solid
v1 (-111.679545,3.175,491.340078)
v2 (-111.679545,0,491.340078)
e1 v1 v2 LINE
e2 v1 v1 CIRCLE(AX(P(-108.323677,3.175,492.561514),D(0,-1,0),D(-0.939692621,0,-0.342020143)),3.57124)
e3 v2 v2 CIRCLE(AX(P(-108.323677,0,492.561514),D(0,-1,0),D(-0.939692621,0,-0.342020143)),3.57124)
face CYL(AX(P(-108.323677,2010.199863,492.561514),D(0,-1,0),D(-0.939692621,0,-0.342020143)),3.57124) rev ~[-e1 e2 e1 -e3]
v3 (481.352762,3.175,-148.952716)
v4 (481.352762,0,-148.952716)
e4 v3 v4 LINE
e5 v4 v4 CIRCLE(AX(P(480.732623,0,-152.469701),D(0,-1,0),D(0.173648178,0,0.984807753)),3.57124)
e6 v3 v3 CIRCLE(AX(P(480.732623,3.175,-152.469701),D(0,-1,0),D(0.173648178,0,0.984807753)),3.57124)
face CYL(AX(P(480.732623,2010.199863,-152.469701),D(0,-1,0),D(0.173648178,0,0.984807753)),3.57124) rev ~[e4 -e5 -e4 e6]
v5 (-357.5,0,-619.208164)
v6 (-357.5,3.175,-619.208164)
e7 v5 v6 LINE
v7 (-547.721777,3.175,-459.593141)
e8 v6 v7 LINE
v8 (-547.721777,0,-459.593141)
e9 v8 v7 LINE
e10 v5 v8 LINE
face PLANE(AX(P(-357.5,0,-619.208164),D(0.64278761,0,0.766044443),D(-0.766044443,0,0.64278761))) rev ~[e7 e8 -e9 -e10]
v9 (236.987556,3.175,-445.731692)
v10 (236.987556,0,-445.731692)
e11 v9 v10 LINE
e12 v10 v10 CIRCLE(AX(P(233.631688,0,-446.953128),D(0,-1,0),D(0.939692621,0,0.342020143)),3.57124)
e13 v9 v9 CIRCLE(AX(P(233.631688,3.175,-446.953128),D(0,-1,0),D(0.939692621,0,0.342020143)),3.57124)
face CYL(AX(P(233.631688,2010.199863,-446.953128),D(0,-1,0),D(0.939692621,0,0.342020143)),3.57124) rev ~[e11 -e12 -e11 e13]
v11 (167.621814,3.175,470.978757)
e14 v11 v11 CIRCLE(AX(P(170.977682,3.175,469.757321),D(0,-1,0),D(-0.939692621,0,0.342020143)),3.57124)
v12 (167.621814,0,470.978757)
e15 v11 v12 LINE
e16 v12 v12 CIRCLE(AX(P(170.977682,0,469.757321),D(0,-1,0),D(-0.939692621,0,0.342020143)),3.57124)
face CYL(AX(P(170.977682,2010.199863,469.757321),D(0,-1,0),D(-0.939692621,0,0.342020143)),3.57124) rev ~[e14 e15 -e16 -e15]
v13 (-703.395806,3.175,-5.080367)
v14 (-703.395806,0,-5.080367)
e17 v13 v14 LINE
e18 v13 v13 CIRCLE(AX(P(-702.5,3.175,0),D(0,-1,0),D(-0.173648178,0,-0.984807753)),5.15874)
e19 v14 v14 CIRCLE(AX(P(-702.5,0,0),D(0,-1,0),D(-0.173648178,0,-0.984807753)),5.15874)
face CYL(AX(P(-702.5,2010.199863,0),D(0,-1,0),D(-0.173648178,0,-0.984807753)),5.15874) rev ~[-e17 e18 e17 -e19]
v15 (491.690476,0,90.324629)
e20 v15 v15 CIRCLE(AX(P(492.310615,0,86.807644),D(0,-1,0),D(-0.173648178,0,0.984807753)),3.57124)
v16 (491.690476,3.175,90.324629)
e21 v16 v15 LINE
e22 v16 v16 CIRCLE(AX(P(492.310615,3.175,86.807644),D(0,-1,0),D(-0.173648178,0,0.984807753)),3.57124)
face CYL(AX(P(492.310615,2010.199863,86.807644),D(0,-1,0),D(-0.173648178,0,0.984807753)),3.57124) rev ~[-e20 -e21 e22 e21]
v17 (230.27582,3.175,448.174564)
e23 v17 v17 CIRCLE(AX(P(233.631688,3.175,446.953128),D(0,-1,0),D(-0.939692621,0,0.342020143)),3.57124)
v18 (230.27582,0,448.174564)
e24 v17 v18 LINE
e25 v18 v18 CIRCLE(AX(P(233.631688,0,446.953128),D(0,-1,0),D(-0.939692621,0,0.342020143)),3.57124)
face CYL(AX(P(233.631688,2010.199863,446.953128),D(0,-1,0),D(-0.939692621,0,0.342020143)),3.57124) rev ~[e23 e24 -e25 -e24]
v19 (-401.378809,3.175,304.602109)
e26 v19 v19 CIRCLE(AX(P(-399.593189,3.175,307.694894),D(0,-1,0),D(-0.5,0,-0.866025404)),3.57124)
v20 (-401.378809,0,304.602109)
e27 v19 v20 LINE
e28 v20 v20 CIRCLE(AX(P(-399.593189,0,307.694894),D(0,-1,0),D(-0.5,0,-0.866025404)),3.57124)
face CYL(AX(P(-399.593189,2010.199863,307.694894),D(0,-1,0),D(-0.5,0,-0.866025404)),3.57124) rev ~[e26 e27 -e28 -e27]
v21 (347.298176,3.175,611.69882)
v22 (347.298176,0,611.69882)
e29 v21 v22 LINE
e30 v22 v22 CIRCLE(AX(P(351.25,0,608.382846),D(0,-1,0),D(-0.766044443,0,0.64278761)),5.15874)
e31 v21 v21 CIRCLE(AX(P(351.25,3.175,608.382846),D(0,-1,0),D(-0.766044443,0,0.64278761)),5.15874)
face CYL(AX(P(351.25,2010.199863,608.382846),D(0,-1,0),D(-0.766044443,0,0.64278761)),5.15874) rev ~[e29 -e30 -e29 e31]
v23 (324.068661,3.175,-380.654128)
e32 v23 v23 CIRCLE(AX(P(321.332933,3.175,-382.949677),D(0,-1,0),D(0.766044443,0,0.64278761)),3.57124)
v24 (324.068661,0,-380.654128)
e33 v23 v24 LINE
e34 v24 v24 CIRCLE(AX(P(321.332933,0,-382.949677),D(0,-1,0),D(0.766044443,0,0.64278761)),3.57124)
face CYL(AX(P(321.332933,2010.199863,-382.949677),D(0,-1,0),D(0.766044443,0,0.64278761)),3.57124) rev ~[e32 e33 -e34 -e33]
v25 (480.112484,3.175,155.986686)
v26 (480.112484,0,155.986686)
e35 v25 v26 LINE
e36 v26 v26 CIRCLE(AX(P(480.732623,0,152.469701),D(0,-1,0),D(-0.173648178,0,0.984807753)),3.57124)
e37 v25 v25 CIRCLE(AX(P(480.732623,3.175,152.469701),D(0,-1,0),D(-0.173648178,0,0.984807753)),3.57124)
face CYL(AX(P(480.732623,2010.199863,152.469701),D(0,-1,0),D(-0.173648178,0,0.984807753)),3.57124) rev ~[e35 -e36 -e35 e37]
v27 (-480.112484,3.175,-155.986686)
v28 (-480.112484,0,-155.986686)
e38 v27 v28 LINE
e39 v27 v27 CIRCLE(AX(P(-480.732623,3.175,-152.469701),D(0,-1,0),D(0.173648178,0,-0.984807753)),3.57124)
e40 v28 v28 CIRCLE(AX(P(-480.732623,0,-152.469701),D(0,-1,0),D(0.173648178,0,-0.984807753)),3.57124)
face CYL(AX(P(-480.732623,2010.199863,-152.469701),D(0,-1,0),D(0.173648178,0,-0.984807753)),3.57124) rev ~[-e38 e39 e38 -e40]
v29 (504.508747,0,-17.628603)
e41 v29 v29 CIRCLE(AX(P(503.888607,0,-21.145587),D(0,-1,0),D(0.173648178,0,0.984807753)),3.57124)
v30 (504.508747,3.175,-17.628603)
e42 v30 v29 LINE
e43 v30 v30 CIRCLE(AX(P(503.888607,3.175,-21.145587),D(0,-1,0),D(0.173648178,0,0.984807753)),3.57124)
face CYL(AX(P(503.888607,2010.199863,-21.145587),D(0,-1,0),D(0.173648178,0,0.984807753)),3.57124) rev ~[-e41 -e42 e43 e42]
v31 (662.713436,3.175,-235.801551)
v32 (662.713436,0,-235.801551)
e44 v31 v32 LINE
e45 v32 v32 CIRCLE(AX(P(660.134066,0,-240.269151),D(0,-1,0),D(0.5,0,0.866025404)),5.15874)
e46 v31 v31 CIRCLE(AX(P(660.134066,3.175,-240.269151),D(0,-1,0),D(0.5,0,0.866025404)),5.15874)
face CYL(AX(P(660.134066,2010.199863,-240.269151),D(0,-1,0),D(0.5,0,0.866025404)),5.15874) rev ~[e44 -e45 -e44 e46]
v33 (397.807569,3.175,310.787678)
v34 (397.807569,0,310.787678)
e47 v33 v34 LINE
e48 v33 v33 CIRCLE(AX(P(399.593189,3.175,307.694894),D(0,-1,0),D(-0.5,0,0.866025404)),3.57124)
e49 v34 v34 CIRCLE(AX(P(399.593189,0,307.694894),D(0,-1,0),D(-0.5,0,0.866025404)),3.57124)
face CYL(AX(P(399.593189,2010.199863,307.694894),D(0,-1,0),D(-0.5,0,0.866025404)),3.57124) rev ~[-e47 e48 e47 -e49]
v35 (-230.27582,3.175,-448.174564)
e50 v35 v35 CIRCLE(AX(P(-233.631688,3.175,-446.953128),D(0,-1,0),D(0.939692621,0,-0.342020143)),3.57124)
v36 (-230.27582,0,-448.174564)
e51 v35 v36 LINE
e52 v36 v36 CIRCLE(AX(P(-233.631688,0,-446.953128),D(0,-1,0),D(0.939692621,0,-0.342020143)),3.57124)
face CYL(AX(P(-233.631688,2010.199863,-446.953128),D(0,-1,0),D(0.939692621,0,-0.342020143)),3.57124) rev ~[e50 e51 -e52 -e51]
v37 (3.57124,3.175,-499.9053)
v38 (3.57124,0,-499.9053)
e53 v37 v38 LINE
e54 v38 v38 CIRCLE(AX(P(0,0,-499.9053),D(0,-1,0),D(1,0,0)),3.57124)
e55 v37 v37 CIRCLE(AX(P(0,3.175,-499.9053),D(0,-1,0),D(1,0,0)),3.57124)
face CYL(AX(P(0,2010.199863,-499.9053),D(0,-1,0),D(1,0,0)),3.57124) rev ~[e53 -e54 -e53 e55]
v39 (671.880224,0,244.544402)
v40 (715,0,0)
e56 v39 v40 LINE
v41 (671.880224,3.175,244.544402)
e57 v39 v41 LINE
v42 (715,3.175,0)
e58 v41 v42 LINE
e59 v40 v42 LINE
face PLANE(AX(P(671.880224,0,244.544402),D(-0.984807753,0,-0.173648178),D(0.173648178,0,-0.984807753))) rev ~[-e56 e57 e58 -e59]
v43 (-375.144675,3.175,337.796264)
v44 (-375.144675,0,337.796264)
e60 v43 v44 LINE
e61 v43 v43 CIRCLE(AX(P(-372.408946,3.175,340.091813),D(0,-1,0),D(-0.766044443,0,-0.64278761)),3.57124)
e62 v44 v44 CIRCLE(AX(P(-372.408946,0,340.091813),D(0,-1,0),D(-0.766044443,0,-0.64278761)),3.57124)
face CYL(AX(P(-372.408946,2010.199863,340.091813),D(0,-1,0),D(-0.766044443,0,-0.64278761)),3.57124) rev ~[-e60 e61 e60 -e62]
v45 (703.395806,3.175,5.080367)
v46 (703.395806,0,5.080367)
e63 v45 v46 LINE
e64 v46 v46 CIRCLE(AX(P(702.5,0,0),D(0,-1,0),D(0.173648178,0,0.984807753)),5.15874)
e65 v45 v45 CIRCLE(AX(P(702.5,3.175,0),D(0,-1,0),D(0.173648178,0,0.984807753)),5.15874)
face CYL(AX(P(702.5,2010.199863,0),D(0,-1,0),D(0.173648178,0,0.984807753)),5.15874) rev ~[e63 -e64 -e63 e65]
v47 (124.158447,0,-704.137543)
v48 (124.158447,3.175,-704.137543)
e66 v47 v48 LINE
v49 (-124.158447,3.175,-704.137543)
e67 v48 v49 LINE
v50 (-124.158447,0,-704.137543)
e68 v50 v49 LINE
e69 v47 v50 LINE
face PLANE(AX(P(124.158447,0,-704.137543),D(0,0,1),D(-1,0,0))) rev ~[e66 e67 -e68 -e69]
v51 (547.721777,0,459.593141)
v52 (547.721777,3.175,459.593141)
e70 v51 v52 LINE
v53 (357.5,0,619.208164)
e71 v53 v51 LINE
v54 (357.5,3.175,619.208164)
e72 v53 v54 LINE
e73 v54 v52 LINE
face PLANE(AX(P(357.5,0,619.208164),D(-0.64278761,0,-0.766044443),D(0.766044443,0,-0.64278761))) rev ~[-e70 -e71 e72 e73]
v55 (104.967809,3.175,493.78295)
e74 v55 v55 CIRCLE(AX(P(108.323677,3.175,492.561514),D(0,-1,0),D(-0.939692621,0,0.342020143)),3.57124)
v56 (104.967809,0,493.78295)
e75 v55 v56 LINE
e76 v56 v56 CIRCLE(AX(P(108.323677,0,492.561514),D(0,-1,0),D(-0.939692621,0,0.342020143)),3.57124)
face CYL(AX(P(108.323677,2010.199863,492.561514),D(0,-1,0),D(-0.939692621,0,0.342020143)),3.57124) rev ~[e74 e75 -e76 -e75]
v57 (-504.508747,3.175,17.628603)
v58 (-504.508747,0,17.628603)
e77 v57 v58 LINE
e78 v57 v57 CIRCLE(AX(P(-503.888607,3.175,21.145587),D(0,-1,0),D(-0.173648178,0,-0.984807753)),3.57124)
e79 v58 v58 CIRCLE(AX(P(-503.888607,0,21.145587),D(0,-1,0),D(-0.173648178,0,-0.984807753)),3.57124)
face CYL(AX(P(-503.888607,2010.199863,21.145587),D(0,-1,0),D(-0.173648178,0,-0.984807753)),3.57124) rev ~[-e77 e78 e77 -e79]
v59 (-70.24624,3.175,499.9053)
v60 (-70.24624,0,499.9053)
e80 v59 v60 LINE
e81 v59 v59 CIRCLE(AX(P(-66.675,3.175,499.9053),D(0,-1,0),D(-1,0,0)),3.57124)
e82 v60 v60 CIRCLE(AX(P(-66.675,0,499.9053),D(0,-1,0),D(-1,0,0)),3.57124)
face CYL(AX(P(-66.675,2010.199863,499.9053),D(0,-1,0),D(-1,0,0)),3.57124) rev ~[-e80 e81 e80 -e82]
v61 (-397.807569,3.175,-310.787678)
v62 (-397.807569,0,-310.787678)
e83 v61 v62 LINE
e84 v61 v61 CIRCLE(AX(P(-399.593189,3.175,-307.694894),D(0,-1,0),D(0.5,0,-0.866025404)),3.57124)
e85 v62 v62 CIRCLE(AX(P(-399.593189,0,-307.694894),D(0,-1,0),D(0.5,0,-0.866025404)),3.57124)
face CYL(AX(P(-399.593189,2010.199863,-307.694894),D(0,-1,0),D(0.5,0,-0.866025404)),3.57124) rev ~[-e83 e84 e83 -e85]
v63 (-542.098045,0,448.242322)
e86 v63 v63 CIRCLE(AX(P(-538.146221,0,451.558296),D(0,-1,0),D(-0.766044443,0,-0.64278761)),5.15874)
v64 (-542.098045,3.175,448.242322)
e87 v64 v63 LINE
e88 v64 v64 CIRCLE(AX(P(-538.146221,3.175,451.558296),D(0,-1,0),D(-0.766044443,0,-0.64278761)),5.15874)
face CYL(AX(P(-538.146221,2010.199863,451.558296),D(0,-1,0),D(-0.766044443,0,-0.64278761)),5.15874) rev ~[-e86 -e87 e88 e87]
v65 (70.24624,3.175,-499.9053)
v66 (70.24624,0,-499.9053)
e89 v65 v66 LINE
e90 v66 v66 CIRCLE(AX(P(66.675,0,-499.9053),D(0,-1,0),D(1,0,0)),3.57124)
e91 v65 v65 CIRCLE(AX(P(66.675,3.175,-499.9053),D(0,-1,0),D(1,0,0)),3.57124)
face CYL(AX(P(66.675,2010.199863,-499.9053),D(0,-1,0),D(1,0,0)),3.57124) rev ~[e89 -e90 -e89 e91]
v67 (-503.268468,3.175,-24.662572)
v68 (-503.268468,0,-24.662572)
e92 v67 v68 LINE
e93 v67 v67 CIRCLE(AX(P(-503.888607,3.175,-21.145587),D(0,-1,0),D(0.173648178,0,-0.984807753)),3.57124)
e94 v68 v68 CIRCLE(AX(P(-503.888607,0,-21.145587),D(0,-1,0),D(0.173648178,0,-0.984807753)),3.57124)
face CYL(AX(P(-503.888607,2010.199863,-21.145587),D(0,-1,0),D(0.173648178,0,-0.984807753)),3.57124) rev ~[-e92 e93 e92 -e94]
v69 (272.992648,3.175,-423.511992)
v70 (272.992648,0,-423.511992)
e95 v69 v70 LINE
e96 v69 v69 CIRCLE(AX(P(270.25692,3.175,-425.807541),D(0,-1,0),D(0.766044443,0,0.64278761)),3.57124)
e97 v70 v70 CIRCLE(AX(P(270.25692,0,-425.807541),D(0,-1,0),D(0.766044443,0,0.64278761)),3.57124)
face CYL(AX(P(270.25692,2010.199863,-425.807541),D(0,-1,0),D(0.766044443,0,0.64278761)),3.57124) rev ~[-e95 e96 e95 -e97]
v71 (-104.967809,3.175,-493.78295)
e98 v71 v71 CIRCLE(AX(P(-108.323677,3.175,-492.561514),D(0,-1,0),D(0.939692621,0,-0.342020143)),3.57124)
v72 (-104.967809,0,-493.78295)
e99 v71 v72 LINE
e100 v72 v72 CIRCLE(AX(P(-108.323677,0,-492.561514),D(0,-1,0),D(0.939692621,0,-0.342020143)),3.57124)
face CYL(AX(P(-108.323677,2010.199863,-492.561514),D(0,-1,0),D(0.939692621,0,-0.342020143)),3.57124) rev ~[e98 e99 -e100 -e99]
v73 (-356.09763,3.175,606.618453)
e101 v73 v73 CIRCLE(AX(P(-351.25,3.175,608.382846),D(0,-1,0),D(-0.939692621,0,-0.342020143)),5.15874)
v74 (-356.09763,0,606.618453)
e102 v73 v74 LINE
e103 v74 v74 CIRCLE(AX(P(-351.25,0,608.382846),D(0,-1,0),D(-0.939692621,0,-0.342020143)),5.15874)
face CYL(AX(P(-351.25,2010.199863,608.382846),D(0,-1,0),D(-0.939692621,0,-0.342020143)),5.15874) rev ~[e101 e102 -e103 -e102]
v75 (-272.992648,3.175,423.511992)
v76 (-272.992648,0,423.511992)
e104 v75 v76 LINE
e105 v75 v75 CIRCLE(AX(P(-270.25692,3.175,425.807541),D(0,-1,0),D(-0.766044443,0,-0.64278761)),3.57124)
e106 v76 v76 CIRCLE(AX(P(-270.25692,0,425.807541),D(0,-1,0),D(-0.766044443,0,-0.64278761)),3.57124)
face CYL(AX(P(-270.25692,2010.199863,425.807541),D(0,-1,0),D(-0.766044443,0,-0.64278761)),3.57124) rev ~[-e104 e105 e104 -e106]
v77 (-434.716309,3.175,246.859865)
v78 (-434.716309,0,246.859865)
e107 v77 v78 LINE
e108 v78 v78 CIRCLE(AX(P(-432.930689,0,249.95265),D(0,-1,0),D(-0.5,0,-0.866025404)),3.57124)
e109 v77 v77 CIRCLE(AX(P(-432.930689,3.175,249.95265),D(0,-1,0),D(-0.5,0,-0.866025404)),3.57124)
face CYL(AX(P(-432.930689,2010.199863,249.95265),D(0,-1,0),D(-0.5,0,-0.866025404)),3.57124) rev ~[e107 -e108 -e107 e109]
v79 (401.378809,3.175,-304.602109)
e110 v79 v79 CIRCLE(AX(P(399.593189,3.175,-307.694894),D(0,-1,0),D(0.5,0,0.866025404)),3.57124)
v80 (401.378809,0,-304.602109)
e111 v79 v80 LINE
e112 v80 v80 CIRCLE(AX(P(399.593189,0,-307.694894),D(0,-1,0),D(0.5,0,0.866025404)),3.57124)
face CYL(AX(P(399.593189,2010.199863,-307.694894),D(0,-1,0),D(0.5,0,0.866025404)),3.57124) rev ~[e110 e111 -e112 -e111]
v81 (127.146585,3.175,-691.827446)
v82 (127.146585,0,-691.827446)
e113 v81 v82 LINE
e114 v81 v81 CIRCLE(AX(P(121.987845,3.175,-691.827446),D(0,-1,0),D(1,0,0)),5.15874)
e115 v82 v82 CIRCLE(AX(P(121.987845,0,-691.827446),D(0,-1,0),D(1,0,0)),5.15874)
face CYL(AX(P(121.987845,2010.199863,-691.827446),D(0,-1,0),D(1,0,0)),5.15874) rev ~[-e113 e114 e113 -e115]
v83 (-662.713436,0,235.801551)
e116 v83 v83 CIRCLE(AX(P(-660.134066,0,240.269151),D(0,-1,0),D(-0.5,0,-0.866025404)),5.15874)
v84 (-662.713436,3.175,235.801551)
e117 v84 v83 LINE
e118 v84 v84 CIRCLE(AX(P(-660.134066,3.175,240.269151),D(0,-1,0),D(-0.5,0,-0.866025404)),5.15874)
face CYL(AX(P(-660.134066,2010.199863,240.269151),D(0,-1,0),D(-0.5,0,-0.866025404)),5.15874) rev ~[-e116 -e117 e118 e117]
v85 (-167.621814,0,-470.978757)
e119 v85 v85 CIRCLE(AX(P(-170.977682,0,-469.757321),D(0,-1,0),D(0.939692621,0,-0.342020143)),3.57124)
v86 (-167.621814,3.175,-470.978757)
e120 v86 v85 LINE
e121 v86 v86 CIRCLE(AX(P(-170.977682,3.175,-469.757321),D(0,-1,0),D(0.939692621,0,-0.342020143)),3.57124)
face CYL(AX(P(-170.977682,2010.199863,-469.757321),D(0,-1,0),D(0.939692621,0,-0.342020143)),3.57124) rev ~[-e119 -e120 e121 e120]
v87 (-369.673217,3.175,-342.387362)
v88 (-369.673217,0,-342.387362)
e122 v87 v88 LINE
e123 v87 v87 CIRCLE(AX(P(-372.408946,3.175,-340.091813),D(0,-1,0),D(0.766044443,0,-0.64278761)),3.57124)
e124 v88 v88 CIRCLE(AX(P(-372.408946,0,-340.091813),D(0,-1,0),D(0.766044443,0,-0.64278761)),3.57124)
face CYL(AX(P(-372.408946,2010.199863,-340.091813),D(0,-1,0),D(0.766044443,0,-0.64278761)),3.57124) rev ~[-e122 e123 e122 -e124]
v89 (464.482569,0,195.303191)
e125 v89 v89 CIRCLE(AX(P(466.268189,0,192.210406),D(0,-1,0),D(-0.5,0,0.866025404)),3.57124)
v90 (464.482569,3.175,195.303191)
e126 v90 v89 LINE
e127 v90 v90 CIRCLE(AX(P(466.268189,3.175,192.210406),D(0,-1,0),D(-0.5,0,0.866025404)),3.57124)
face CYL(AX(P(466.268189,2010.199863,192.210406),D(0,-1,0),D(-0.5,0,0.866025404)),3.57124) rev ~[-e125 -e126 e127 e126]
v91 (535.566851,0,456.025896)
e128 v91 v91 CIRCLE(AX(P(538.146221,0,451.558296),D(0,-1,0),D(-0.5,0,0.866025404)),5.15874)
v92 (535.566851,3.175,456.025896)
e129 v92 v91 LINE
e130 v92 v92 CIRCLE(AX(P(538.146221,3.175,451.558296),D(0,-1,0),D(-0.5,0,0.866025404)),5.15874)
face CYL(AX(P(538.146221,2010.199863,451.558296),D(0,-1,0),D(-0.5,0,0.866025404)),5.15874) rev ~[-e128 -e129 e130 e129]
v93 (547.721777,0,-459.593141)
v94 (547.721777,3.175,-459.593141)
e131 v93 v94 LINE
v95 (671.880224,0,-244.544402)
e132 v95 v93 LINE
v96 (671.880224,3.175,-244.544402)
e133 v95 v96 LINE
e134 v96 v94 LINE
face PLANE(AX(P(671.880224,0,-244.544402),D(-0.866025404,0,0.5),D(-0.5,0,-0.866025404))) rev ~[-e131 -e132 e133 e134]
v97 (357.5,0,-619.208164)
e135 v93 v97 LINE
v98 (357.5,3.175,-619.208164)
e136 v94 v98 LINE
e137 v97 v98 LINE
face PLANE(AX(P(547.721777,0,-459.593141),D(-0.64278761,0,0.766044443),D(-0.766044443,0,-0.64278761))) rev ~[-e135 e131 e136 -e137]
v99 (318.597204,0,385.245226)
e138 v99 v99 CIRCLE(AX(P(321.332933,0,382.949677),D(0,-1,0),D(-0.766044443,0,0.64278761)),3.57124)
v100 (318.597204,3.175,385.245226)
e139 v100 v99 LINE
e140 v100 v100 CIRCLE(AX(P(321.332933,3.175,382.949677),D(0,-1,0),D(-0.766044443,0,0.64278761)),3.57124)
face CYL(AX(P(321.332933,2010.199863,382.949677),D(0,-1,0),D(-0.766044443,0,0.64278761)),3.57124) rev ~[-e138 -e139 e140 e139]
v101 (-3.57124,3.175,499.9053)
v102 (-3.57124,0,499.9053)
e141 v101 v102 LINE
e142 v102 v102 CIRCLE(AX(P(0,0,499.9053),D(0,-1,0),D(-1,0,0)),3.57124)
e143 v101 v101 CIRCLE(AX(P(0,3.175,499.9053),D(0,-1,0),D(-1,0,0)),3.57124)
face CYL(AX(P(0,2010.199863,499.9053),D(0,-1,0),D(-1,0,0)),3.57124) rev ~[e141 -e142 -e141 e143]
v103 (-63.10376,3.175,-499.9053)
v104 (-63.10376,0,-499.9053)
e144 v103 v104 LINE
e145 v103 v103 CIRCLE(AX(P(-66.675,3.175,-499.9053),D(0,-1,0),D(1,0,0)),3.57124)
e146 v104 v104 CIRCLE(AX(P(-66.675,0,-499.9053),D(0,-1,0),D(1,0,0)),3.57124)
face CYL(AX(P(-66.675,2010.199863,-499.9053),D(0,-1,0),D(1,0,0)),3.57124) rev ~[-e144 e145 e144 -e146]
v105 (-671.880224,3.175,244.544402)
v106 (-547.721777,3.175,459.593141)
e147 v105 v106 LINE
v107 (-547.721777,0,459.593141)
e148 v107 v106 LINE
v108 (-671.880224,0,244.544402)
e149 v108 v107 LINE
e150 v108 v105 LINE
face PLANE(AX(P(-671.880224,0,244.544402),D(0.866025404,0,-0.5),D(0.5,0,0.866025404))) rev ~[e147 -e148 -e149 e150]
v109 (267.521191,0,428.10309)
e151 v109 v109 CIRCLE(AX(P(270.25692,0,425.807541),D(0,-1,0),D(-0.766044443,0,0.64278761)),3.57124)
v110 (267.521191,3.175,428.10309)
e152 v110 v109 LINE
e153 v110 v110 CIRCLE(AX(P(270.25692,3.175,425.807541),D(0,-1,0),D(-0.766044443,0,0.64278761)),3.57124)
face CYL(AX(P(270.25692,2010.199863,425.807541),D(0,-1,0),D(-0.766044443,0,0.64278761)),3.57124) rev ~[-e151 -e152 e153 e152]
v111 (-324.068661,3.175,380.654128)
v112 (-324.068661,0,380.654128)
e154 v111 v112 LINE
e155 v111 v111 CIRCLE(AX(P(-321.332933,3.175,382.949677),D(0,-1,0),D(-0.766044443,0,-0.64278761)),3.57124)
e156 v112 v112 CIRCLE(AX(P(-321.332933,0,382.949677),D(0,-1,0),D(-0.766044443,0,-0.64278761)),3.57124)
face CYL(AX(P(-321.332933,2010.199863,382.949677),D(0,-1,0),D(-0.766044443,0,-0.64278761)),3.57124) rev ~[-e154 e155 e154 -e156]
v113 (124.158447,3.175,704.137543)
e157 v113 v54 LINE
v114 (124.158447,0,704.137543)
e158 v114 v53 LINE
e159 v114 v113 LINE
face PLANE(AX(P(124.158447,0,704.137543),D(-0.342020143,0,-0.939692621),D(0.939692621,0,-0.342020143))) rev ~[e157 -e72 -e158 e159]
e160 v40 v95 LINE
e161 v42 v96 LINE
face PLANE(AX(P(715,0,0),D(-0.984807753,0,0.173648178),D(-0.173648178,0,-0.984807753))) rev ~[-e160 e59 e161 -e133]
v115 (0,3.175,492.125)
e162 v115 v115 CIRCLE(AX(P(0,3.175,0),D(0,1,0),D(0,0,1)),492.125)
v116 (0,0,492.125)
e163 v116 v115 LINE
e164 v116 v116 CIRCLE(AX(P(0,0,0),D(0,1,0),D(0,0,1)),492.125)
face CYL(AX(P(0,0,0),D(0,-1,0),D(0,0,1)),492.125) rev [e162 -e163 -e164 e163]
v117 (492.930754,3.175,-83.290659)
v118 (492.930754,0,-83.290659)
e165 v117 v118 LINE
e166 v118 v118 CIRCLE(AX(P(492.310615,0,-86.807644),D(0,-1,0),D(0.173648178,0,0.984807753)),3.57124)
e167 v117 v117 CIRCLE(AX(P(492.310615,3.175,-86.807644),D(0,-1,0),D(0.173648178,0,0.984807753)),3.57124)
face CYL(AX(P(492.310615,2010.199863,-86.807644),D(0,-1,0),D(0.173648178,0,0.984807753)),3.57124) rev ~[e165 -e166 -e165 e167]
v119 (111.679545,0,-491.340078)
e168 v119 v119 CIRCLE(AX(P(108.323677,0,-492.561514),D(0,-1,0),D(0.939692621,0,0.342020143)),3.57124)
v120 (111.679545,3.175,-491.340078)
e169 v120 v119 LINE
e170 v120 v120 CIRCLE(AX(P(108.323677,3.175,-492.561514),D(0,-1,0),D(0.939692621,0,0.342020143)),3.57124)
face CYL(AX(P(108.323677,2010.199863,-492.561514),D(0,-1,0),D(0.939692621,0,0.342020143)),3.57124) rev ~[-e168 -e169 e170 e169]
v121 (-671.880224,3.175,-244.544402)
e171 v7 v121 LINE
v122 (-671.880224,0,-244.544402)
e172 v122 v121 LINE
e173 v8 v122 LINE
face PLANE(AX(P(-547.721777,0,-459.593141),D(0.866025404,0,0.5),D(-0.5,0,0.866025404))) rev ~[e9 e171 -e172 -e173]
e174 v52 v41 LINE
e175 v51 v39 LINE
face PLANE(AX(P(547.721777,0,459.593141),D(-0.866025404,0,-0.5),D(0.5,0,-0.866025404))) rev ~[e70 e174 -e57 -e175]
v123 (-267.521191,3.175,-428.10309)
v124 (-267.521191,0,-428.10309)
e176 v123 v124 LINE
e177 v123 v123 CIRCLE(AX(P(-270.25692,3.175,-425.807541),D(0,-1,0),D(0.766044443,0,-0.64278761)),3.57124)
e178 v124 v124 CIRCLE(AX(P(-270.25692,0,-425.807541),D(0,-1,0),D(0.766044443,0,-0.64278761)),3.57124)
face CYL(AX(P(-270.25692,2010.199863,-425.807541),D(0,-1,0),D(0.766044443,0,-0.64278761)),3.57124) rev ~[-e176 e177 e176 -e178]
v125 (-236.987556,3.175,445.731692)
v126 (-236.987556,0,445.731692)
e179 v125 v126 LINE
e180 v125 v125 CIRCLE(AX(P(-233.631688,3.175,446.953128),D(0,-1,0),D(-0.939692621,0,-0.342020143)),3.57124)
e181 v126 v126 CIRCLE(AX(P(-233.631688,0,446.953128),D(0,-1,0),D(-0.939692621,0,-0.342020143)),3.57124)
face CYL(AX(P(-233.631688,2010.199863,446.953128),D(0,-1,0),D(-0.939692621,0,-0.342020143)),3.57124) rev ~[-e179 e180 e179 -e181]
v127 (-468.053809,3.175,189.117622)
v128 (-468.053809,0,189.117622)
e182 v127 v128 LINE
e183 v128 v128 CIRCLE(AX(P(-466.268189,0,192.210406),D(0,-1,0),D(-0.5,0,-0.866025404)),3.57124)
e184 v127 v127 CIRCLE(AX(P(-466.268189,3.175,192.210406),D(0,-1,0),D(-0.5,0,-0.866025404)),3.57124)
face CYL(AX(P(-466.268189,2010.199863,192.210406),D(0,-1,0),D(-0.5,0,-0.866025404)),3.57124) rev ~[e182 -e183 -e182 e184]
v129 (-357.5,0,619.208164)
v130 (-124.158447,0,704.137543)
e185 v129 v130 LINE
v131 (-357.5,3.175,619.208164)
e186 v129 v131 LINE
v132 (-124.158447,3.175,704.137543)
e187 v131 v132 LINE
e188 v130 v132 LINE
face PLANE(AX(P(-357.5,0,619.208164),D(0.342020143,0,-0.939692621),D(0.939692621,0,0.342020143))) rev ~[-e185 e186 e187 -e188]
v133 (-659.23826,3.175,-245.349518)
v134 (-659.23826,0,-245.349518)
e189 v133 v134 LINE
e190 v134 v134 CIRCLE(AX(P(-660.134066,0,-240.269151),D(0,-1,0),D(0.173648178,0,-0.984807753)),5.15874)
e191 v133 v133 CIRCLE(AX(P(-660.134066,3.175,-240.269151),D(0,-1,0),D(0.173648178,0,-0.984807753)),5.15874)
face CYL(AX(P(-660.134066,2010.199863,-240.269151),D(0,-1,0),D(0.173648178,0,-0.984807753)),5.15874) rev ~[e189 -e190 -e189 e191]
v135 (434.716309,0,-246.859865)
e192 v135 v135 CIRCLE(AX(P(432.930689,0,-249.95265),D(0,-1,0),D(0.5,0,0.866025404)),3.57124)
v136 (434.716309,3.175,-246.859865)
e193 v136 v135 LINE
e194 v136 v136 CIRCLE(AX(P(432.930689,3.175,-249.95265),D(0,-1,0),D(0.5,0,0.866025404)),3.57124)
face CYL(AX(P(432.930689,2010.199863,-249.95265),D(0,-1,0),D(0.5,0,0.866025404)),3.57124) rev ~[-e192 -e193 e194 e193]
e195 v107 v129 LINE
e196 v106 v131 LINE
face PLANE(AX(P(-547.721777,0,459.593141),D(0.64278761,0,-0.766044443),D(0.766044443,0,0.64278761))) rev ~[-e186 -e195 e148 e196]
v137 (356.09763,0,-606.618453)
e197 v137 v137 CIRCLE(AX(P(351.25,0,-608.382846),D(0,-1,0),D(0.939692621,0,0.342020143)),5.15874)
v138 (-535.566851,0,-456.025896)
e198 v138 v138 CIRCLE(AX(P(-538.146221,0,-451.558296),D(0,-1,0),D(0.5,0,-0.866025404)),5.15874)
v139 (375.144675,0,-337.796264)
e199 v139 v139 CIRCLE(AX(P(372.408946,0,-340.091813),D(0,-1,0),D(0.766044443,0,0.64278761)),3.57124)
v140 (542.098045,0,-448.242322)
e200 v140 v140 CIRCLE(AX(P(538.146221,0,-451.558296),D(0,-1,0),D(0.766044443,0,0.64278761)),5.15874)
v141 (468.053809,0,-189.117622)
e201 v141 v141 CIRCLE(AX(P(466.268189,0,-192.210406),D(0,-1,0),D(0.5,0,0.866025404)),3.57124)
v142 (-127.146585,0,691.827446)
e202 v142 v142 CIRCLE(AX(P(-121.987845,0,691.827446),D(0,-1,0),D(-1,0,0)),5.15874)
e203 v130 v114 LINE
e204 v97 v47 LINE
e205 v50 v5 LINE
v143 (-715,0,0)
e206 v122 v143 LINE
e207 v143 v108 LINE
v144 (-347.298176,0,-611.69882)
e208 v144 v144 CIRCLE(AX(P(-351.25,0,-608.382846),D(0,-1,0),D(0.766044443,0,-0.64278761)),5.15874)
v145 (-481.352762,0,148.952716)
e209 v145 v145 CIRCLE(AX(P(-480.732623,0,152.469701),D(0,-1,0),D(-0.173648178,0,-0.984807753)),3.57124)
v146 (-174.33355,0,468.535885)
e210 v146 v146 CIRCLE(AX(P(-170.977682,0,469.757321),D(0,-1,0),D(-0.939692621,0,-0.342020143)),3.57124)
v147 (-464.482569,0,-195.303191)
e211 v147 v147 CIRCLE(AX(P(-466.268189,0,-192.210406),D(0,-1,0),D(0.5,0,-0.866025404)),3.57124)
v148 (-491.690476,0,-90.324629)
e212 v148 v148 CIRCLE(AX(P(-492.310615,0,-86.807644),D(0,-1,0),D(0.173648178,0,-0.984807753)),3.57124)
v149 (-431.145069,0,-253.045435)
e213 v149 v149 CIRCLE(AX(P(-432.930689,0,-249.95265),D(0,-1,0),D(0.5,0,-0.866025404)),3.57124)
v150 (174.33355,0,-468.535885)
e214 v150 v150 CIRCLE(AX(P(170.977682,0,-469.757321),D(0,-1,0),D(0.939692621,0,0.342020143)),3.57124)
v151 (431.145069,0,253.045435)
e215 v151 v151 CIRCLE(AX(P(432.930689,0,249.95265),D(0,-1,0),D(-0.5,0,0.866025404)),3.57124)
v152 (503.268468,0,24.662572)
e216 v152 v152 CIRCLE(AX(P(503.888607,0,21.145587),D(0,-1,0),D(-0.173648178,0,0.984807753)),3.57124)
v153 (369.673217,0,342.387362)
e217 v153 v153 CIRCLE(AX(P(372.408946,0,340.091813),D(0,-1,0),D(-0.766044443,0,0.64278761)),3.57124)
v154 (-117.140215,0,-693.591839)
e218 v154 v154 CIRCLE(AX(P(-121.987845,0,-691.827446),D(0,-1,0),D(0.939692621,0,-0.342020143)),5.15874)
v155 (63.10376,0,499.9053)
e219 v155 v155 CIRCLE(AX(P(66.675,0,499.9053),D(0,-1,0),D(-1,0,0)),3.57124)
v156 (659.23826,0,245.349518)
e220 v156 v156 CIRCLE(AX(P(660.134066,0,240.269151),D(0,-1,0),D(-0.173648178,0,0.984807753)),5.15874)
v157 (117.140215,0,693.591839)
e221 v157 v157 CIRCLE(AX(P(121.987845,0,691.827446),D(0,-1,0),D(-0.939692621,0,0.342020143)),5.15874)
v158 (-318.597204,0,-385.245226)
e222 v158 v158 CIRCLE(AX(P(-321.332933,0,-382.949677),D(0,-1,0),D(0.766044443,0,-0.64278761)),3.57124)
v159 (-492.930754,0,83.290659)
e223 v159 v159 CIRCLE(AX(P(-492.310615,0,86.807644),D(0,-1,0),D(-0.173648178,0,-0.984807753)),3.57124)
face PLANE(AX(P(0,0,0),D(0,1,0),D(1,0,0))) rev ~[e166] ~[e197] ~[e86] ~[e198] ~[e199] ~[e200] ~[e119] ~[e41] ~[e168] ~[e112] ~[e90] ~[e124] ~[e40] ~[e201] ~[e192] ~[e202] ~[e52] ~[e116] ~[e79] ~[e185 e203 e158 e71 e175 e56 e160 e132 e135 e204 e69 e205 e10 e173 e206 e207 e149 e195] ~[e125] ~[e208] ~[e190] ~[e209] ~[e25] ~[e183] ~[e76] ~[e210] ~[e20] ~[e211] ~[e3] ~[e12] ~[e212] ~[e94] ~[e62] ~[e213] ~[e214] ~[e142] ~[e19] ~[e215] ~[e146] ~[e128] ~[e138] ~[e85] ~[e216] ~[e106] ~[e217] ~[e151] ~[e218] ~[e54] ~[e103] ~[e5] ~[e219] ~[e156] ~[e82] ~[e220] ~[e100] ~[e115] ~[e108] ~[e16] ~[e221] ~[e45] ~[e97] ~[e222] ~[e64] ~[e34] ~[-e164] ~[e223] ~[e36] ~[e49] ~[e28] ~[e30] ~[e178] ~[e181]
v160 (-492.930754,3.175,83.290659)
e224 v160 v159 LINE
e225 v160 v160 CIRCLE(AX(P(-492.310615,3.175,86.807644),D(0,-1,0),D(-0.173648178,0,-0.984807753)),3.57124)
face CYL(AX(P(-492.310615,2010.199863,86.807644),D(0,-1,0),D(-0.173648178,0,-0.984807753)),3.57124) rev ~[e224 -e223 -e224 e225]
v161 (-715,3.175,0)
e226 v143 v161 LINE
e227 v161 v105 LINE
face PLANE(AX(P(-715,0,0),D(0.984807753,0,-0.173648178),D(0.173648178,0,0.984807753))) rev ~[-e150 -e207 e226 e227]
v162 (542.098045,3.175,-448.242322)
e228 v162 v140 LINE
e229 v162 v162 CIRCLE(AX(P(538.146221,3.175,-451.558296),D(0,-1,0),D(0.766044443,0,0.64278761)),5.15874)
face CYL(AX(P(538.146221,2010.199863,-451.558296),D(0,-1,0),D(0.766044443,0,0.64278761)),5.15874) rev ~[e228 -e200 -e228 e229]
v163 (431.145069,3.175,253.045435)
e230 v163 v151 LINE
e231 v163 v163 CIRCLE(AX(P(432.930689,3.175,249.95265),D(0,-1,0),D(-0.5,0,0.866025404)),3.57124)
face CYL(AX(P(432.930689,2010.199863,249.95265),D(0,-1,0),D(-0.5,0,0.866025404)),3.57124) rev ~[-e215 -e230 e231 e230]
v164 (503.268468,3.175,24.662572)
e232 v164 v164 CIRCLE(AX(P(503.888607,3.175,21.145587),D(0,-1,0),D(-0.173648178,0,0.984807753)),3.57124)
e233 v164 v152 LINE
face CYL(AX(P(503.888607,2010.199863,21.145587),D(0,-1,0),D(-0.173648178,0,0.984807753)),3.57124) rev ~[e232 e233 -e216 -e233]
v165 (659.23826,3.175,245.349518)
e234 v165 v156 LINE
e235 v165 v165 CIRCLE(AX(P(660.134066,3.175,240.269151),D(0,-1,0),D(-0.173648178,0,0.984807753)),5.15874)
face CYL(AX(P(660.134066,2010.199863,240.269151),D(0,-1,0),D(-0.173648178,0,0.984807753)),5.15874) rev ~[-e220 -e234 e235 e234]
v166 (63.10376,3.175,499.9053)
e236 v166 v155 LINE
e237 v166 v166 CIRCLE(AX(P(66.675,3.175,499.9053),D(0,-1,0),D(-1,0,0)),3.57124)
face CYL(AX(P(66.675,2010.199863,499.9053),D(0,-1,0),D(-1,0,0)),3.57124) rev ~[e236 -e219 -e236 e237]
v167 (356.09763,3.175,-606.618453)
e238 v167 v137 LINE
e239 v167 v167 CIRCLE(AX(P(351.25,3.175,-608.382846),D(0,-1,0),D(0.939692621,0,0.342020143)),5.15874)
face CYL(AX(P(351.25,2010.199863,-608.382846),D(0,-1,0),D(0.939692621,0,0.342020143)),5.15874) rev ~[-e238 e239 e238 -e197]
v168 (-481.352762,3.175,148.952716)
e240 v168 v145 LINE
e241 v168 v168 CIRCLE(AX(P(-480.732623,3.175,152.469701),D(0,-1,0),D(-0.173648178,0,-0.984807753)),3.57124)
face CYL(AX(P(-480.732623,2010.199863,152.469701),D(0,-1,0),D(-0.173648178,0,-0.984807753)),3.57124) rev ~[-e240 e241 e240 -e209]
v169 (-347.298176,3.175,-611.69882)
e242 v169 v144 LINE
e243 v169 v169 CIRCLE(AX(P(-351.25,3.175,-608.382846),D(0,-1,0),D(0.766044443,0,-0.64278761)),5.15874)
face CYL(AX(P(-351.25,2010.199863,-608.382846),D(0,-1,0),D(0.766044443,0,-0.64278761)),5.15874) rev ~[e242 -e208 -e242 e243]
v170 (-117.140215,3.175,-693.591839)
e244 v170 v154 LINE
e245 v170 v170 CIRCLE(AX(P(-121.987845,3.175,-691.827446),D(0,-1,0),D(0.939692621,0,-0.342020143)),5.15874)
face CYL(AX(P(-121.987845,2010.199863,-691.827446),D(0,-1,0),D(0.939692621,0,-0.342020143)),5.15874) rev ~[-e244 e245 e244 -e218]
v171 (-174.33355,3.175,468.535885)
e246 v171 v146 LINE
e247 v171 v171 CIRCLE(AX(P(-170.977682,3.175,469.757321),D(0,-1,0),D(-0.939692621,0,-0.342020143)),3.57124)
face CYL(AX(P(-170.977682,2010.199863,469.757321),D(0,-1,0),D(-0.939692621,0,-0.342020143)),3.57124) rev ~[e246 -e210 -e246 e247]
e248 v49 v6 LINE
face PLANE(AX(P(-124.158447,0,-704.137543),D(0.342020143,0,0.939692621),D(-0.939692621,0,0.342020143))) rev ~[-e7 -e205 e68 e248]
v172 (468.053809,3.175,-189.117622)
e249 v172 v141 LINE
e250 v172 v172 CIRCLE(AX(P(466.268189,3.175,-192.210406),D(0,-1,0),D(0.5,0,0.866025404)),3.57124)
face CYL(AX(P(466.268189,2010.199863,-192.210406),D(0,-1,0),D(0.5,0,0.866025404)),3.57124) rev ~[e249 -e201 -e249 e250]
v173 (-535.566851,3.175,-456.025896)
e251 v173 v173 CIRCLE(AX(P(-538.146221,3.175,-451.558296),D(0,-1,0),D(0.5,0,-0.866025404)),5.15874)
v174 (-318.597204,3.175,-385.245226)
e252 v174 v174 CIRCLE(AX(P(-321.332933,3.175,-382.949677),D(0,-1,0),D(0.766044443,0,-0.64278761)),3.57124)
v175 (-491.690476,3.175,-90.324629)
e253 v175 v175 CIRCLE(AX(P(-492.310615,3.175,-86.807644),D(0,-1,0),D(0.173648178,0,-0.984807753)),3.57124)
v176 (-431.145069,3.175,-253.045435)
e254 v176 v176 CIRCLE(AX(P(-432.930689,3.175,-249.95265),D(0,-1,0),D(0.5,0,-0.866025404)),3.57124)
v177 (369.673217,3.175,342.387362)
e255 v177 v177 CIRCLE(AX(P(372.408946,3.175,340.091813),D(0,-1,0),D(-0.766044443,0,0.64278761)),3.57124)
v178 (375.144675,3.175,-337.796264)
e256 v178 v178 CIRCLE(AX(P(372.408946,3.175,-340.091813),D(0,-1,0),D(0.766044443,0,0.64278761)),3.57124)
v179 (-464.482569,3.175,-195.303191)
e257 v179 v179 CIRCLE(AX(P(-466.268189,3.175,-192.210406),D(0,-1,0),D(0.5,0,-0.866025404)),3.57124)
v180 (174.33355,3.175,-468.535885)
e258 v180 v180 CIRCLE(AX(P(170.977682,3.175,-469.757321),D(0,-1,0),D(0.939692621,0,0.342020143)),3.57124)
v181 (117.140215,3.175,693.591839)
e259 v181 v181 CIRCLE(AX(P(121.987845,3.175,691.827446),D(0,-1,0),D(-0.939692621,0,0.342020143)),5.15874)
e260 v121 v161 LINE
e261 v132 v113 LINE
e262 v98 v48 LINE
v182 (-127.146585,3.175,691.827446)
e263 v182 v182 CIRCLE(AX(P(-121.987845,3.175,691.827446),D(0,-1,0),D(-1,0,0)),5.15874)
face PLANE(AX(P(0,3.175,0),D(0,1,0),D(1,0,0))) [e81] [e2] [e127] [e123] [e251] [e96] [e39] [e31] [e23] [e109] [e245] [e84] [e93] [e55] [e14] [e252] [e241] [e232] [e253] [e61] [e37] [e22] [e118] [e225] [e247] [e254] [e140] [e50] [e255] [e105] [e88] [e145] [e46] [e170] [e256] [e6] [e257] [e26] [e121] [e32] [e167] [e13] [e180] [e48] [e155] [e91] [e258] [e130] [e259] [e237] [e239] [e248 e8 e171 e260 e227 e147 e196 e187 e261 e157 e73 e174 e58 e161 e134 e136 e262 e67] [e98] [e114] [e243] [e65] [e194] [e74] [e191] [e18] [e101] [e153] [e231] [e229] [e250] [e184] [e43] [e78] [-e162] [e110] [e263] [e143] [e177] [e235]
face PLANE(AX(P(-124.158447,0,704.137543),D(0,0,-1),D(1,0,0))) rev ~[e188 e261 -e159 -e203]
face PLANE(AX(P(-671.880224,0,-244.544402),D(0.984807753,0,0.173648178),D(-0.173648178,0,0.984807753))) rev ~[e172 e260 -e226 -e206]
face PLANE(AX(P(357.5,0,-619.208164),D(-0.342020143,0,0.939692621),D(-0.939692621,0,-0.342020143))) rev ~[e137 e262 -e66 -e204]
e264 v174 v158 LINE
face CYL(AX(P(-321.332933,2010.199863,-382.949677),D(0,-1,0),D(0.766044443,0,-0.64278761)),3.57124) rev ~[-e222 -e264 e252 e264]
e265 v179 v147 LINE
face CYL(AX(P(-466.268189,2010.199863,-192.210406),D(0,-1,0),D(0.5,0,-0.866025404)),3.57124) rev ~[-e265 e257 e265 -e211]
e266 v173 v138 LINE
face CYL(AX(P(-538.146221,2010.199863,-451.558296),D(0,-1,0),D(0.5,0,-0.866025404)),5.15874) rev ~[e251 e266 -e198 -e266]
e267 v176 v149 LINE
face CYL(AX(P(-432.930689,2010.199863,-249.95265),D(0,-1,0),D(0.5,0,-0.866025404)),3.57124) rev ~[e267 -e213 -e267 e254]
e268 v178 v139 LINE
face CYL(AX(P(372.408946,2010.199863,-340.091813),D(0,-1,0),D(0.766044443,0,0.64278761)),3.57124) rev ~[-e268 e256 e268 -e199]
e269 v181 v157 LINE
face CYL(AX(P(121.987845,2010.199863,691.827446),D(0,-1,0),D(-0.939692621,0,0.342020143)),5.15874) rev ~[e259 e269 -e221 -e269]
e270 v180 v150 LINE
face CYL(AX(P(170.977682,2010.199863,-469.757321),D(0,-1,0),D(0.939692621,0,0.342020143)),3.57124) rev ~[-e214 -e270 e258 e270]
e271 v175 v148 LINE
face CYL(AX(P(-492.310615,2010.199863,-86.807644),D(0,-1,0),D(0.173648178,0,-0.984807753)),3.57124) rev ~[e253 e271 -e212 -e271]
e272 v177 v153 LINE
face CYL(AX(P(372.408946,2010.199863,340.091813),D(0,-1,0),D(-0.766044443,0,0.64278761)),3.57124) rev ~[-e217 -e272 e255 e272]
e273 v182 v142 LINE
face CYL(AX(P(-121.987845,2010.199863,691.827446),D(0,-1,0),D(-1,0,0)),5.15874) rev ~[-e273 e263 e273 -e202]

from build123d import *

# Parameters (mm, degrees)
SKETCH1_R                               = 492.125
BOSS_EXTRUDE1_DEPTH                     = 3.175
F_3_8_CLEARANCE_HOLE1_D                 = 10.31748
F_1_4_CLEARANCE_HOLE_FOR_RFOF_D         = 7.14248
CIRPATTERN_18X_MOUNT_HOLES_IN_OUT_COUNT = 18


with BuildPart() as part:
    # Sketch1 → Boss-Extrude1 (new body)
    with BuildSketch(Plane(origin=(0, 0, 0), x_dir=(1, 0, 0), z_dir=(0, 1, 0))):
        Polygon((-715, 0), (-671.880223862, -244.544402478), (-547.72177683, -459.593140926), (-357.5, -619.208163706), (-124.158447032, -704.137543404), (124.158447032, -704.137543404), (357.5, -619.208163706), (547.72177683, -459.593140926), (671.880223862, -244.544402478), (715, 0), (671.880223862, 244.544402478), (547.72177683, 459.593140926), (357.5, 619.208163706), (124.158447032, 704.137543404), (-124.158447032, 704.137543404), (-357.5, 619.208163706), (-547.72177683, 459.593140926), (-671.880223862, 244.544402478), align=None)
        with Locations(Location((0, 0, 0), (0, 0, 270))):
            Circle(SKETCH1_R, mode=Mode.SUBTRACT)
    extrude(amount=BOSS_EXTRUDE1_DEPTH)

    # 3/8 Clearance Hole1 (through all)
    with Locations(Plane(origin=(0, 3.175, 0), x_dir=(1, 0, 0), z_dir=(0, 1, 0))):
        with Locations((-121.987844811, -691.827446491)):
            f_3_8_clearance_hole1 = Hole(F_3_8_CLEARANCE_HOLE1_D / 2)

    # 1/4 Clearance Hole for RFoF (through all)
    with Locations(Plane(origin=(0, 3.175, 0), x_dir=(1, 0, 0), z_dir=(0, 1, 0))):
        with Locations((-66.675, -499.905299908), (66.675, -499.905299908), (0, -499.905299908)):
            f_1_4_clearance_hole_for_rfof = Hole(F_1_4_CLEARANCE_HOLE_FOR_RFOF_D / 2)

    # CirPattern - 18x Mount Holes In_Out: 3/8 Clearance Hole1, 1/4 Clearance Hole for RFoF ×18 about axis
    cirpattern_18x_mount_holes_in_out_axis = Axis((0, 0, 0), (0, 1, 0))
    add([f_3_8_clearance_hole1.rotate(cirpattern_18x_mount_holes_in_out_axis, i * 360 / CIRPATTERN_18X_MOUNT_HOLES_IN_OUT_COUNT) for i in range(1, CIRPATTERN_18X_MOUNT_HOLES_IN_OUT_COUNT)], mode=Mode.SUBTRACT)
    add([f_1_4_clearance_hole_for_rfof.rotate(cirpattern_18x_mount_holes_in_out_axis, i * 360 / CIRPATTERN_18X_MOUNT_HOLES_IN_OUT_COUNT) for i in range(1, CIRPATTERN_18X_MOUNT_HOLES_IN_OUT_COUNT)], mode=Mode.SUBTRACT)


solid = part.part
